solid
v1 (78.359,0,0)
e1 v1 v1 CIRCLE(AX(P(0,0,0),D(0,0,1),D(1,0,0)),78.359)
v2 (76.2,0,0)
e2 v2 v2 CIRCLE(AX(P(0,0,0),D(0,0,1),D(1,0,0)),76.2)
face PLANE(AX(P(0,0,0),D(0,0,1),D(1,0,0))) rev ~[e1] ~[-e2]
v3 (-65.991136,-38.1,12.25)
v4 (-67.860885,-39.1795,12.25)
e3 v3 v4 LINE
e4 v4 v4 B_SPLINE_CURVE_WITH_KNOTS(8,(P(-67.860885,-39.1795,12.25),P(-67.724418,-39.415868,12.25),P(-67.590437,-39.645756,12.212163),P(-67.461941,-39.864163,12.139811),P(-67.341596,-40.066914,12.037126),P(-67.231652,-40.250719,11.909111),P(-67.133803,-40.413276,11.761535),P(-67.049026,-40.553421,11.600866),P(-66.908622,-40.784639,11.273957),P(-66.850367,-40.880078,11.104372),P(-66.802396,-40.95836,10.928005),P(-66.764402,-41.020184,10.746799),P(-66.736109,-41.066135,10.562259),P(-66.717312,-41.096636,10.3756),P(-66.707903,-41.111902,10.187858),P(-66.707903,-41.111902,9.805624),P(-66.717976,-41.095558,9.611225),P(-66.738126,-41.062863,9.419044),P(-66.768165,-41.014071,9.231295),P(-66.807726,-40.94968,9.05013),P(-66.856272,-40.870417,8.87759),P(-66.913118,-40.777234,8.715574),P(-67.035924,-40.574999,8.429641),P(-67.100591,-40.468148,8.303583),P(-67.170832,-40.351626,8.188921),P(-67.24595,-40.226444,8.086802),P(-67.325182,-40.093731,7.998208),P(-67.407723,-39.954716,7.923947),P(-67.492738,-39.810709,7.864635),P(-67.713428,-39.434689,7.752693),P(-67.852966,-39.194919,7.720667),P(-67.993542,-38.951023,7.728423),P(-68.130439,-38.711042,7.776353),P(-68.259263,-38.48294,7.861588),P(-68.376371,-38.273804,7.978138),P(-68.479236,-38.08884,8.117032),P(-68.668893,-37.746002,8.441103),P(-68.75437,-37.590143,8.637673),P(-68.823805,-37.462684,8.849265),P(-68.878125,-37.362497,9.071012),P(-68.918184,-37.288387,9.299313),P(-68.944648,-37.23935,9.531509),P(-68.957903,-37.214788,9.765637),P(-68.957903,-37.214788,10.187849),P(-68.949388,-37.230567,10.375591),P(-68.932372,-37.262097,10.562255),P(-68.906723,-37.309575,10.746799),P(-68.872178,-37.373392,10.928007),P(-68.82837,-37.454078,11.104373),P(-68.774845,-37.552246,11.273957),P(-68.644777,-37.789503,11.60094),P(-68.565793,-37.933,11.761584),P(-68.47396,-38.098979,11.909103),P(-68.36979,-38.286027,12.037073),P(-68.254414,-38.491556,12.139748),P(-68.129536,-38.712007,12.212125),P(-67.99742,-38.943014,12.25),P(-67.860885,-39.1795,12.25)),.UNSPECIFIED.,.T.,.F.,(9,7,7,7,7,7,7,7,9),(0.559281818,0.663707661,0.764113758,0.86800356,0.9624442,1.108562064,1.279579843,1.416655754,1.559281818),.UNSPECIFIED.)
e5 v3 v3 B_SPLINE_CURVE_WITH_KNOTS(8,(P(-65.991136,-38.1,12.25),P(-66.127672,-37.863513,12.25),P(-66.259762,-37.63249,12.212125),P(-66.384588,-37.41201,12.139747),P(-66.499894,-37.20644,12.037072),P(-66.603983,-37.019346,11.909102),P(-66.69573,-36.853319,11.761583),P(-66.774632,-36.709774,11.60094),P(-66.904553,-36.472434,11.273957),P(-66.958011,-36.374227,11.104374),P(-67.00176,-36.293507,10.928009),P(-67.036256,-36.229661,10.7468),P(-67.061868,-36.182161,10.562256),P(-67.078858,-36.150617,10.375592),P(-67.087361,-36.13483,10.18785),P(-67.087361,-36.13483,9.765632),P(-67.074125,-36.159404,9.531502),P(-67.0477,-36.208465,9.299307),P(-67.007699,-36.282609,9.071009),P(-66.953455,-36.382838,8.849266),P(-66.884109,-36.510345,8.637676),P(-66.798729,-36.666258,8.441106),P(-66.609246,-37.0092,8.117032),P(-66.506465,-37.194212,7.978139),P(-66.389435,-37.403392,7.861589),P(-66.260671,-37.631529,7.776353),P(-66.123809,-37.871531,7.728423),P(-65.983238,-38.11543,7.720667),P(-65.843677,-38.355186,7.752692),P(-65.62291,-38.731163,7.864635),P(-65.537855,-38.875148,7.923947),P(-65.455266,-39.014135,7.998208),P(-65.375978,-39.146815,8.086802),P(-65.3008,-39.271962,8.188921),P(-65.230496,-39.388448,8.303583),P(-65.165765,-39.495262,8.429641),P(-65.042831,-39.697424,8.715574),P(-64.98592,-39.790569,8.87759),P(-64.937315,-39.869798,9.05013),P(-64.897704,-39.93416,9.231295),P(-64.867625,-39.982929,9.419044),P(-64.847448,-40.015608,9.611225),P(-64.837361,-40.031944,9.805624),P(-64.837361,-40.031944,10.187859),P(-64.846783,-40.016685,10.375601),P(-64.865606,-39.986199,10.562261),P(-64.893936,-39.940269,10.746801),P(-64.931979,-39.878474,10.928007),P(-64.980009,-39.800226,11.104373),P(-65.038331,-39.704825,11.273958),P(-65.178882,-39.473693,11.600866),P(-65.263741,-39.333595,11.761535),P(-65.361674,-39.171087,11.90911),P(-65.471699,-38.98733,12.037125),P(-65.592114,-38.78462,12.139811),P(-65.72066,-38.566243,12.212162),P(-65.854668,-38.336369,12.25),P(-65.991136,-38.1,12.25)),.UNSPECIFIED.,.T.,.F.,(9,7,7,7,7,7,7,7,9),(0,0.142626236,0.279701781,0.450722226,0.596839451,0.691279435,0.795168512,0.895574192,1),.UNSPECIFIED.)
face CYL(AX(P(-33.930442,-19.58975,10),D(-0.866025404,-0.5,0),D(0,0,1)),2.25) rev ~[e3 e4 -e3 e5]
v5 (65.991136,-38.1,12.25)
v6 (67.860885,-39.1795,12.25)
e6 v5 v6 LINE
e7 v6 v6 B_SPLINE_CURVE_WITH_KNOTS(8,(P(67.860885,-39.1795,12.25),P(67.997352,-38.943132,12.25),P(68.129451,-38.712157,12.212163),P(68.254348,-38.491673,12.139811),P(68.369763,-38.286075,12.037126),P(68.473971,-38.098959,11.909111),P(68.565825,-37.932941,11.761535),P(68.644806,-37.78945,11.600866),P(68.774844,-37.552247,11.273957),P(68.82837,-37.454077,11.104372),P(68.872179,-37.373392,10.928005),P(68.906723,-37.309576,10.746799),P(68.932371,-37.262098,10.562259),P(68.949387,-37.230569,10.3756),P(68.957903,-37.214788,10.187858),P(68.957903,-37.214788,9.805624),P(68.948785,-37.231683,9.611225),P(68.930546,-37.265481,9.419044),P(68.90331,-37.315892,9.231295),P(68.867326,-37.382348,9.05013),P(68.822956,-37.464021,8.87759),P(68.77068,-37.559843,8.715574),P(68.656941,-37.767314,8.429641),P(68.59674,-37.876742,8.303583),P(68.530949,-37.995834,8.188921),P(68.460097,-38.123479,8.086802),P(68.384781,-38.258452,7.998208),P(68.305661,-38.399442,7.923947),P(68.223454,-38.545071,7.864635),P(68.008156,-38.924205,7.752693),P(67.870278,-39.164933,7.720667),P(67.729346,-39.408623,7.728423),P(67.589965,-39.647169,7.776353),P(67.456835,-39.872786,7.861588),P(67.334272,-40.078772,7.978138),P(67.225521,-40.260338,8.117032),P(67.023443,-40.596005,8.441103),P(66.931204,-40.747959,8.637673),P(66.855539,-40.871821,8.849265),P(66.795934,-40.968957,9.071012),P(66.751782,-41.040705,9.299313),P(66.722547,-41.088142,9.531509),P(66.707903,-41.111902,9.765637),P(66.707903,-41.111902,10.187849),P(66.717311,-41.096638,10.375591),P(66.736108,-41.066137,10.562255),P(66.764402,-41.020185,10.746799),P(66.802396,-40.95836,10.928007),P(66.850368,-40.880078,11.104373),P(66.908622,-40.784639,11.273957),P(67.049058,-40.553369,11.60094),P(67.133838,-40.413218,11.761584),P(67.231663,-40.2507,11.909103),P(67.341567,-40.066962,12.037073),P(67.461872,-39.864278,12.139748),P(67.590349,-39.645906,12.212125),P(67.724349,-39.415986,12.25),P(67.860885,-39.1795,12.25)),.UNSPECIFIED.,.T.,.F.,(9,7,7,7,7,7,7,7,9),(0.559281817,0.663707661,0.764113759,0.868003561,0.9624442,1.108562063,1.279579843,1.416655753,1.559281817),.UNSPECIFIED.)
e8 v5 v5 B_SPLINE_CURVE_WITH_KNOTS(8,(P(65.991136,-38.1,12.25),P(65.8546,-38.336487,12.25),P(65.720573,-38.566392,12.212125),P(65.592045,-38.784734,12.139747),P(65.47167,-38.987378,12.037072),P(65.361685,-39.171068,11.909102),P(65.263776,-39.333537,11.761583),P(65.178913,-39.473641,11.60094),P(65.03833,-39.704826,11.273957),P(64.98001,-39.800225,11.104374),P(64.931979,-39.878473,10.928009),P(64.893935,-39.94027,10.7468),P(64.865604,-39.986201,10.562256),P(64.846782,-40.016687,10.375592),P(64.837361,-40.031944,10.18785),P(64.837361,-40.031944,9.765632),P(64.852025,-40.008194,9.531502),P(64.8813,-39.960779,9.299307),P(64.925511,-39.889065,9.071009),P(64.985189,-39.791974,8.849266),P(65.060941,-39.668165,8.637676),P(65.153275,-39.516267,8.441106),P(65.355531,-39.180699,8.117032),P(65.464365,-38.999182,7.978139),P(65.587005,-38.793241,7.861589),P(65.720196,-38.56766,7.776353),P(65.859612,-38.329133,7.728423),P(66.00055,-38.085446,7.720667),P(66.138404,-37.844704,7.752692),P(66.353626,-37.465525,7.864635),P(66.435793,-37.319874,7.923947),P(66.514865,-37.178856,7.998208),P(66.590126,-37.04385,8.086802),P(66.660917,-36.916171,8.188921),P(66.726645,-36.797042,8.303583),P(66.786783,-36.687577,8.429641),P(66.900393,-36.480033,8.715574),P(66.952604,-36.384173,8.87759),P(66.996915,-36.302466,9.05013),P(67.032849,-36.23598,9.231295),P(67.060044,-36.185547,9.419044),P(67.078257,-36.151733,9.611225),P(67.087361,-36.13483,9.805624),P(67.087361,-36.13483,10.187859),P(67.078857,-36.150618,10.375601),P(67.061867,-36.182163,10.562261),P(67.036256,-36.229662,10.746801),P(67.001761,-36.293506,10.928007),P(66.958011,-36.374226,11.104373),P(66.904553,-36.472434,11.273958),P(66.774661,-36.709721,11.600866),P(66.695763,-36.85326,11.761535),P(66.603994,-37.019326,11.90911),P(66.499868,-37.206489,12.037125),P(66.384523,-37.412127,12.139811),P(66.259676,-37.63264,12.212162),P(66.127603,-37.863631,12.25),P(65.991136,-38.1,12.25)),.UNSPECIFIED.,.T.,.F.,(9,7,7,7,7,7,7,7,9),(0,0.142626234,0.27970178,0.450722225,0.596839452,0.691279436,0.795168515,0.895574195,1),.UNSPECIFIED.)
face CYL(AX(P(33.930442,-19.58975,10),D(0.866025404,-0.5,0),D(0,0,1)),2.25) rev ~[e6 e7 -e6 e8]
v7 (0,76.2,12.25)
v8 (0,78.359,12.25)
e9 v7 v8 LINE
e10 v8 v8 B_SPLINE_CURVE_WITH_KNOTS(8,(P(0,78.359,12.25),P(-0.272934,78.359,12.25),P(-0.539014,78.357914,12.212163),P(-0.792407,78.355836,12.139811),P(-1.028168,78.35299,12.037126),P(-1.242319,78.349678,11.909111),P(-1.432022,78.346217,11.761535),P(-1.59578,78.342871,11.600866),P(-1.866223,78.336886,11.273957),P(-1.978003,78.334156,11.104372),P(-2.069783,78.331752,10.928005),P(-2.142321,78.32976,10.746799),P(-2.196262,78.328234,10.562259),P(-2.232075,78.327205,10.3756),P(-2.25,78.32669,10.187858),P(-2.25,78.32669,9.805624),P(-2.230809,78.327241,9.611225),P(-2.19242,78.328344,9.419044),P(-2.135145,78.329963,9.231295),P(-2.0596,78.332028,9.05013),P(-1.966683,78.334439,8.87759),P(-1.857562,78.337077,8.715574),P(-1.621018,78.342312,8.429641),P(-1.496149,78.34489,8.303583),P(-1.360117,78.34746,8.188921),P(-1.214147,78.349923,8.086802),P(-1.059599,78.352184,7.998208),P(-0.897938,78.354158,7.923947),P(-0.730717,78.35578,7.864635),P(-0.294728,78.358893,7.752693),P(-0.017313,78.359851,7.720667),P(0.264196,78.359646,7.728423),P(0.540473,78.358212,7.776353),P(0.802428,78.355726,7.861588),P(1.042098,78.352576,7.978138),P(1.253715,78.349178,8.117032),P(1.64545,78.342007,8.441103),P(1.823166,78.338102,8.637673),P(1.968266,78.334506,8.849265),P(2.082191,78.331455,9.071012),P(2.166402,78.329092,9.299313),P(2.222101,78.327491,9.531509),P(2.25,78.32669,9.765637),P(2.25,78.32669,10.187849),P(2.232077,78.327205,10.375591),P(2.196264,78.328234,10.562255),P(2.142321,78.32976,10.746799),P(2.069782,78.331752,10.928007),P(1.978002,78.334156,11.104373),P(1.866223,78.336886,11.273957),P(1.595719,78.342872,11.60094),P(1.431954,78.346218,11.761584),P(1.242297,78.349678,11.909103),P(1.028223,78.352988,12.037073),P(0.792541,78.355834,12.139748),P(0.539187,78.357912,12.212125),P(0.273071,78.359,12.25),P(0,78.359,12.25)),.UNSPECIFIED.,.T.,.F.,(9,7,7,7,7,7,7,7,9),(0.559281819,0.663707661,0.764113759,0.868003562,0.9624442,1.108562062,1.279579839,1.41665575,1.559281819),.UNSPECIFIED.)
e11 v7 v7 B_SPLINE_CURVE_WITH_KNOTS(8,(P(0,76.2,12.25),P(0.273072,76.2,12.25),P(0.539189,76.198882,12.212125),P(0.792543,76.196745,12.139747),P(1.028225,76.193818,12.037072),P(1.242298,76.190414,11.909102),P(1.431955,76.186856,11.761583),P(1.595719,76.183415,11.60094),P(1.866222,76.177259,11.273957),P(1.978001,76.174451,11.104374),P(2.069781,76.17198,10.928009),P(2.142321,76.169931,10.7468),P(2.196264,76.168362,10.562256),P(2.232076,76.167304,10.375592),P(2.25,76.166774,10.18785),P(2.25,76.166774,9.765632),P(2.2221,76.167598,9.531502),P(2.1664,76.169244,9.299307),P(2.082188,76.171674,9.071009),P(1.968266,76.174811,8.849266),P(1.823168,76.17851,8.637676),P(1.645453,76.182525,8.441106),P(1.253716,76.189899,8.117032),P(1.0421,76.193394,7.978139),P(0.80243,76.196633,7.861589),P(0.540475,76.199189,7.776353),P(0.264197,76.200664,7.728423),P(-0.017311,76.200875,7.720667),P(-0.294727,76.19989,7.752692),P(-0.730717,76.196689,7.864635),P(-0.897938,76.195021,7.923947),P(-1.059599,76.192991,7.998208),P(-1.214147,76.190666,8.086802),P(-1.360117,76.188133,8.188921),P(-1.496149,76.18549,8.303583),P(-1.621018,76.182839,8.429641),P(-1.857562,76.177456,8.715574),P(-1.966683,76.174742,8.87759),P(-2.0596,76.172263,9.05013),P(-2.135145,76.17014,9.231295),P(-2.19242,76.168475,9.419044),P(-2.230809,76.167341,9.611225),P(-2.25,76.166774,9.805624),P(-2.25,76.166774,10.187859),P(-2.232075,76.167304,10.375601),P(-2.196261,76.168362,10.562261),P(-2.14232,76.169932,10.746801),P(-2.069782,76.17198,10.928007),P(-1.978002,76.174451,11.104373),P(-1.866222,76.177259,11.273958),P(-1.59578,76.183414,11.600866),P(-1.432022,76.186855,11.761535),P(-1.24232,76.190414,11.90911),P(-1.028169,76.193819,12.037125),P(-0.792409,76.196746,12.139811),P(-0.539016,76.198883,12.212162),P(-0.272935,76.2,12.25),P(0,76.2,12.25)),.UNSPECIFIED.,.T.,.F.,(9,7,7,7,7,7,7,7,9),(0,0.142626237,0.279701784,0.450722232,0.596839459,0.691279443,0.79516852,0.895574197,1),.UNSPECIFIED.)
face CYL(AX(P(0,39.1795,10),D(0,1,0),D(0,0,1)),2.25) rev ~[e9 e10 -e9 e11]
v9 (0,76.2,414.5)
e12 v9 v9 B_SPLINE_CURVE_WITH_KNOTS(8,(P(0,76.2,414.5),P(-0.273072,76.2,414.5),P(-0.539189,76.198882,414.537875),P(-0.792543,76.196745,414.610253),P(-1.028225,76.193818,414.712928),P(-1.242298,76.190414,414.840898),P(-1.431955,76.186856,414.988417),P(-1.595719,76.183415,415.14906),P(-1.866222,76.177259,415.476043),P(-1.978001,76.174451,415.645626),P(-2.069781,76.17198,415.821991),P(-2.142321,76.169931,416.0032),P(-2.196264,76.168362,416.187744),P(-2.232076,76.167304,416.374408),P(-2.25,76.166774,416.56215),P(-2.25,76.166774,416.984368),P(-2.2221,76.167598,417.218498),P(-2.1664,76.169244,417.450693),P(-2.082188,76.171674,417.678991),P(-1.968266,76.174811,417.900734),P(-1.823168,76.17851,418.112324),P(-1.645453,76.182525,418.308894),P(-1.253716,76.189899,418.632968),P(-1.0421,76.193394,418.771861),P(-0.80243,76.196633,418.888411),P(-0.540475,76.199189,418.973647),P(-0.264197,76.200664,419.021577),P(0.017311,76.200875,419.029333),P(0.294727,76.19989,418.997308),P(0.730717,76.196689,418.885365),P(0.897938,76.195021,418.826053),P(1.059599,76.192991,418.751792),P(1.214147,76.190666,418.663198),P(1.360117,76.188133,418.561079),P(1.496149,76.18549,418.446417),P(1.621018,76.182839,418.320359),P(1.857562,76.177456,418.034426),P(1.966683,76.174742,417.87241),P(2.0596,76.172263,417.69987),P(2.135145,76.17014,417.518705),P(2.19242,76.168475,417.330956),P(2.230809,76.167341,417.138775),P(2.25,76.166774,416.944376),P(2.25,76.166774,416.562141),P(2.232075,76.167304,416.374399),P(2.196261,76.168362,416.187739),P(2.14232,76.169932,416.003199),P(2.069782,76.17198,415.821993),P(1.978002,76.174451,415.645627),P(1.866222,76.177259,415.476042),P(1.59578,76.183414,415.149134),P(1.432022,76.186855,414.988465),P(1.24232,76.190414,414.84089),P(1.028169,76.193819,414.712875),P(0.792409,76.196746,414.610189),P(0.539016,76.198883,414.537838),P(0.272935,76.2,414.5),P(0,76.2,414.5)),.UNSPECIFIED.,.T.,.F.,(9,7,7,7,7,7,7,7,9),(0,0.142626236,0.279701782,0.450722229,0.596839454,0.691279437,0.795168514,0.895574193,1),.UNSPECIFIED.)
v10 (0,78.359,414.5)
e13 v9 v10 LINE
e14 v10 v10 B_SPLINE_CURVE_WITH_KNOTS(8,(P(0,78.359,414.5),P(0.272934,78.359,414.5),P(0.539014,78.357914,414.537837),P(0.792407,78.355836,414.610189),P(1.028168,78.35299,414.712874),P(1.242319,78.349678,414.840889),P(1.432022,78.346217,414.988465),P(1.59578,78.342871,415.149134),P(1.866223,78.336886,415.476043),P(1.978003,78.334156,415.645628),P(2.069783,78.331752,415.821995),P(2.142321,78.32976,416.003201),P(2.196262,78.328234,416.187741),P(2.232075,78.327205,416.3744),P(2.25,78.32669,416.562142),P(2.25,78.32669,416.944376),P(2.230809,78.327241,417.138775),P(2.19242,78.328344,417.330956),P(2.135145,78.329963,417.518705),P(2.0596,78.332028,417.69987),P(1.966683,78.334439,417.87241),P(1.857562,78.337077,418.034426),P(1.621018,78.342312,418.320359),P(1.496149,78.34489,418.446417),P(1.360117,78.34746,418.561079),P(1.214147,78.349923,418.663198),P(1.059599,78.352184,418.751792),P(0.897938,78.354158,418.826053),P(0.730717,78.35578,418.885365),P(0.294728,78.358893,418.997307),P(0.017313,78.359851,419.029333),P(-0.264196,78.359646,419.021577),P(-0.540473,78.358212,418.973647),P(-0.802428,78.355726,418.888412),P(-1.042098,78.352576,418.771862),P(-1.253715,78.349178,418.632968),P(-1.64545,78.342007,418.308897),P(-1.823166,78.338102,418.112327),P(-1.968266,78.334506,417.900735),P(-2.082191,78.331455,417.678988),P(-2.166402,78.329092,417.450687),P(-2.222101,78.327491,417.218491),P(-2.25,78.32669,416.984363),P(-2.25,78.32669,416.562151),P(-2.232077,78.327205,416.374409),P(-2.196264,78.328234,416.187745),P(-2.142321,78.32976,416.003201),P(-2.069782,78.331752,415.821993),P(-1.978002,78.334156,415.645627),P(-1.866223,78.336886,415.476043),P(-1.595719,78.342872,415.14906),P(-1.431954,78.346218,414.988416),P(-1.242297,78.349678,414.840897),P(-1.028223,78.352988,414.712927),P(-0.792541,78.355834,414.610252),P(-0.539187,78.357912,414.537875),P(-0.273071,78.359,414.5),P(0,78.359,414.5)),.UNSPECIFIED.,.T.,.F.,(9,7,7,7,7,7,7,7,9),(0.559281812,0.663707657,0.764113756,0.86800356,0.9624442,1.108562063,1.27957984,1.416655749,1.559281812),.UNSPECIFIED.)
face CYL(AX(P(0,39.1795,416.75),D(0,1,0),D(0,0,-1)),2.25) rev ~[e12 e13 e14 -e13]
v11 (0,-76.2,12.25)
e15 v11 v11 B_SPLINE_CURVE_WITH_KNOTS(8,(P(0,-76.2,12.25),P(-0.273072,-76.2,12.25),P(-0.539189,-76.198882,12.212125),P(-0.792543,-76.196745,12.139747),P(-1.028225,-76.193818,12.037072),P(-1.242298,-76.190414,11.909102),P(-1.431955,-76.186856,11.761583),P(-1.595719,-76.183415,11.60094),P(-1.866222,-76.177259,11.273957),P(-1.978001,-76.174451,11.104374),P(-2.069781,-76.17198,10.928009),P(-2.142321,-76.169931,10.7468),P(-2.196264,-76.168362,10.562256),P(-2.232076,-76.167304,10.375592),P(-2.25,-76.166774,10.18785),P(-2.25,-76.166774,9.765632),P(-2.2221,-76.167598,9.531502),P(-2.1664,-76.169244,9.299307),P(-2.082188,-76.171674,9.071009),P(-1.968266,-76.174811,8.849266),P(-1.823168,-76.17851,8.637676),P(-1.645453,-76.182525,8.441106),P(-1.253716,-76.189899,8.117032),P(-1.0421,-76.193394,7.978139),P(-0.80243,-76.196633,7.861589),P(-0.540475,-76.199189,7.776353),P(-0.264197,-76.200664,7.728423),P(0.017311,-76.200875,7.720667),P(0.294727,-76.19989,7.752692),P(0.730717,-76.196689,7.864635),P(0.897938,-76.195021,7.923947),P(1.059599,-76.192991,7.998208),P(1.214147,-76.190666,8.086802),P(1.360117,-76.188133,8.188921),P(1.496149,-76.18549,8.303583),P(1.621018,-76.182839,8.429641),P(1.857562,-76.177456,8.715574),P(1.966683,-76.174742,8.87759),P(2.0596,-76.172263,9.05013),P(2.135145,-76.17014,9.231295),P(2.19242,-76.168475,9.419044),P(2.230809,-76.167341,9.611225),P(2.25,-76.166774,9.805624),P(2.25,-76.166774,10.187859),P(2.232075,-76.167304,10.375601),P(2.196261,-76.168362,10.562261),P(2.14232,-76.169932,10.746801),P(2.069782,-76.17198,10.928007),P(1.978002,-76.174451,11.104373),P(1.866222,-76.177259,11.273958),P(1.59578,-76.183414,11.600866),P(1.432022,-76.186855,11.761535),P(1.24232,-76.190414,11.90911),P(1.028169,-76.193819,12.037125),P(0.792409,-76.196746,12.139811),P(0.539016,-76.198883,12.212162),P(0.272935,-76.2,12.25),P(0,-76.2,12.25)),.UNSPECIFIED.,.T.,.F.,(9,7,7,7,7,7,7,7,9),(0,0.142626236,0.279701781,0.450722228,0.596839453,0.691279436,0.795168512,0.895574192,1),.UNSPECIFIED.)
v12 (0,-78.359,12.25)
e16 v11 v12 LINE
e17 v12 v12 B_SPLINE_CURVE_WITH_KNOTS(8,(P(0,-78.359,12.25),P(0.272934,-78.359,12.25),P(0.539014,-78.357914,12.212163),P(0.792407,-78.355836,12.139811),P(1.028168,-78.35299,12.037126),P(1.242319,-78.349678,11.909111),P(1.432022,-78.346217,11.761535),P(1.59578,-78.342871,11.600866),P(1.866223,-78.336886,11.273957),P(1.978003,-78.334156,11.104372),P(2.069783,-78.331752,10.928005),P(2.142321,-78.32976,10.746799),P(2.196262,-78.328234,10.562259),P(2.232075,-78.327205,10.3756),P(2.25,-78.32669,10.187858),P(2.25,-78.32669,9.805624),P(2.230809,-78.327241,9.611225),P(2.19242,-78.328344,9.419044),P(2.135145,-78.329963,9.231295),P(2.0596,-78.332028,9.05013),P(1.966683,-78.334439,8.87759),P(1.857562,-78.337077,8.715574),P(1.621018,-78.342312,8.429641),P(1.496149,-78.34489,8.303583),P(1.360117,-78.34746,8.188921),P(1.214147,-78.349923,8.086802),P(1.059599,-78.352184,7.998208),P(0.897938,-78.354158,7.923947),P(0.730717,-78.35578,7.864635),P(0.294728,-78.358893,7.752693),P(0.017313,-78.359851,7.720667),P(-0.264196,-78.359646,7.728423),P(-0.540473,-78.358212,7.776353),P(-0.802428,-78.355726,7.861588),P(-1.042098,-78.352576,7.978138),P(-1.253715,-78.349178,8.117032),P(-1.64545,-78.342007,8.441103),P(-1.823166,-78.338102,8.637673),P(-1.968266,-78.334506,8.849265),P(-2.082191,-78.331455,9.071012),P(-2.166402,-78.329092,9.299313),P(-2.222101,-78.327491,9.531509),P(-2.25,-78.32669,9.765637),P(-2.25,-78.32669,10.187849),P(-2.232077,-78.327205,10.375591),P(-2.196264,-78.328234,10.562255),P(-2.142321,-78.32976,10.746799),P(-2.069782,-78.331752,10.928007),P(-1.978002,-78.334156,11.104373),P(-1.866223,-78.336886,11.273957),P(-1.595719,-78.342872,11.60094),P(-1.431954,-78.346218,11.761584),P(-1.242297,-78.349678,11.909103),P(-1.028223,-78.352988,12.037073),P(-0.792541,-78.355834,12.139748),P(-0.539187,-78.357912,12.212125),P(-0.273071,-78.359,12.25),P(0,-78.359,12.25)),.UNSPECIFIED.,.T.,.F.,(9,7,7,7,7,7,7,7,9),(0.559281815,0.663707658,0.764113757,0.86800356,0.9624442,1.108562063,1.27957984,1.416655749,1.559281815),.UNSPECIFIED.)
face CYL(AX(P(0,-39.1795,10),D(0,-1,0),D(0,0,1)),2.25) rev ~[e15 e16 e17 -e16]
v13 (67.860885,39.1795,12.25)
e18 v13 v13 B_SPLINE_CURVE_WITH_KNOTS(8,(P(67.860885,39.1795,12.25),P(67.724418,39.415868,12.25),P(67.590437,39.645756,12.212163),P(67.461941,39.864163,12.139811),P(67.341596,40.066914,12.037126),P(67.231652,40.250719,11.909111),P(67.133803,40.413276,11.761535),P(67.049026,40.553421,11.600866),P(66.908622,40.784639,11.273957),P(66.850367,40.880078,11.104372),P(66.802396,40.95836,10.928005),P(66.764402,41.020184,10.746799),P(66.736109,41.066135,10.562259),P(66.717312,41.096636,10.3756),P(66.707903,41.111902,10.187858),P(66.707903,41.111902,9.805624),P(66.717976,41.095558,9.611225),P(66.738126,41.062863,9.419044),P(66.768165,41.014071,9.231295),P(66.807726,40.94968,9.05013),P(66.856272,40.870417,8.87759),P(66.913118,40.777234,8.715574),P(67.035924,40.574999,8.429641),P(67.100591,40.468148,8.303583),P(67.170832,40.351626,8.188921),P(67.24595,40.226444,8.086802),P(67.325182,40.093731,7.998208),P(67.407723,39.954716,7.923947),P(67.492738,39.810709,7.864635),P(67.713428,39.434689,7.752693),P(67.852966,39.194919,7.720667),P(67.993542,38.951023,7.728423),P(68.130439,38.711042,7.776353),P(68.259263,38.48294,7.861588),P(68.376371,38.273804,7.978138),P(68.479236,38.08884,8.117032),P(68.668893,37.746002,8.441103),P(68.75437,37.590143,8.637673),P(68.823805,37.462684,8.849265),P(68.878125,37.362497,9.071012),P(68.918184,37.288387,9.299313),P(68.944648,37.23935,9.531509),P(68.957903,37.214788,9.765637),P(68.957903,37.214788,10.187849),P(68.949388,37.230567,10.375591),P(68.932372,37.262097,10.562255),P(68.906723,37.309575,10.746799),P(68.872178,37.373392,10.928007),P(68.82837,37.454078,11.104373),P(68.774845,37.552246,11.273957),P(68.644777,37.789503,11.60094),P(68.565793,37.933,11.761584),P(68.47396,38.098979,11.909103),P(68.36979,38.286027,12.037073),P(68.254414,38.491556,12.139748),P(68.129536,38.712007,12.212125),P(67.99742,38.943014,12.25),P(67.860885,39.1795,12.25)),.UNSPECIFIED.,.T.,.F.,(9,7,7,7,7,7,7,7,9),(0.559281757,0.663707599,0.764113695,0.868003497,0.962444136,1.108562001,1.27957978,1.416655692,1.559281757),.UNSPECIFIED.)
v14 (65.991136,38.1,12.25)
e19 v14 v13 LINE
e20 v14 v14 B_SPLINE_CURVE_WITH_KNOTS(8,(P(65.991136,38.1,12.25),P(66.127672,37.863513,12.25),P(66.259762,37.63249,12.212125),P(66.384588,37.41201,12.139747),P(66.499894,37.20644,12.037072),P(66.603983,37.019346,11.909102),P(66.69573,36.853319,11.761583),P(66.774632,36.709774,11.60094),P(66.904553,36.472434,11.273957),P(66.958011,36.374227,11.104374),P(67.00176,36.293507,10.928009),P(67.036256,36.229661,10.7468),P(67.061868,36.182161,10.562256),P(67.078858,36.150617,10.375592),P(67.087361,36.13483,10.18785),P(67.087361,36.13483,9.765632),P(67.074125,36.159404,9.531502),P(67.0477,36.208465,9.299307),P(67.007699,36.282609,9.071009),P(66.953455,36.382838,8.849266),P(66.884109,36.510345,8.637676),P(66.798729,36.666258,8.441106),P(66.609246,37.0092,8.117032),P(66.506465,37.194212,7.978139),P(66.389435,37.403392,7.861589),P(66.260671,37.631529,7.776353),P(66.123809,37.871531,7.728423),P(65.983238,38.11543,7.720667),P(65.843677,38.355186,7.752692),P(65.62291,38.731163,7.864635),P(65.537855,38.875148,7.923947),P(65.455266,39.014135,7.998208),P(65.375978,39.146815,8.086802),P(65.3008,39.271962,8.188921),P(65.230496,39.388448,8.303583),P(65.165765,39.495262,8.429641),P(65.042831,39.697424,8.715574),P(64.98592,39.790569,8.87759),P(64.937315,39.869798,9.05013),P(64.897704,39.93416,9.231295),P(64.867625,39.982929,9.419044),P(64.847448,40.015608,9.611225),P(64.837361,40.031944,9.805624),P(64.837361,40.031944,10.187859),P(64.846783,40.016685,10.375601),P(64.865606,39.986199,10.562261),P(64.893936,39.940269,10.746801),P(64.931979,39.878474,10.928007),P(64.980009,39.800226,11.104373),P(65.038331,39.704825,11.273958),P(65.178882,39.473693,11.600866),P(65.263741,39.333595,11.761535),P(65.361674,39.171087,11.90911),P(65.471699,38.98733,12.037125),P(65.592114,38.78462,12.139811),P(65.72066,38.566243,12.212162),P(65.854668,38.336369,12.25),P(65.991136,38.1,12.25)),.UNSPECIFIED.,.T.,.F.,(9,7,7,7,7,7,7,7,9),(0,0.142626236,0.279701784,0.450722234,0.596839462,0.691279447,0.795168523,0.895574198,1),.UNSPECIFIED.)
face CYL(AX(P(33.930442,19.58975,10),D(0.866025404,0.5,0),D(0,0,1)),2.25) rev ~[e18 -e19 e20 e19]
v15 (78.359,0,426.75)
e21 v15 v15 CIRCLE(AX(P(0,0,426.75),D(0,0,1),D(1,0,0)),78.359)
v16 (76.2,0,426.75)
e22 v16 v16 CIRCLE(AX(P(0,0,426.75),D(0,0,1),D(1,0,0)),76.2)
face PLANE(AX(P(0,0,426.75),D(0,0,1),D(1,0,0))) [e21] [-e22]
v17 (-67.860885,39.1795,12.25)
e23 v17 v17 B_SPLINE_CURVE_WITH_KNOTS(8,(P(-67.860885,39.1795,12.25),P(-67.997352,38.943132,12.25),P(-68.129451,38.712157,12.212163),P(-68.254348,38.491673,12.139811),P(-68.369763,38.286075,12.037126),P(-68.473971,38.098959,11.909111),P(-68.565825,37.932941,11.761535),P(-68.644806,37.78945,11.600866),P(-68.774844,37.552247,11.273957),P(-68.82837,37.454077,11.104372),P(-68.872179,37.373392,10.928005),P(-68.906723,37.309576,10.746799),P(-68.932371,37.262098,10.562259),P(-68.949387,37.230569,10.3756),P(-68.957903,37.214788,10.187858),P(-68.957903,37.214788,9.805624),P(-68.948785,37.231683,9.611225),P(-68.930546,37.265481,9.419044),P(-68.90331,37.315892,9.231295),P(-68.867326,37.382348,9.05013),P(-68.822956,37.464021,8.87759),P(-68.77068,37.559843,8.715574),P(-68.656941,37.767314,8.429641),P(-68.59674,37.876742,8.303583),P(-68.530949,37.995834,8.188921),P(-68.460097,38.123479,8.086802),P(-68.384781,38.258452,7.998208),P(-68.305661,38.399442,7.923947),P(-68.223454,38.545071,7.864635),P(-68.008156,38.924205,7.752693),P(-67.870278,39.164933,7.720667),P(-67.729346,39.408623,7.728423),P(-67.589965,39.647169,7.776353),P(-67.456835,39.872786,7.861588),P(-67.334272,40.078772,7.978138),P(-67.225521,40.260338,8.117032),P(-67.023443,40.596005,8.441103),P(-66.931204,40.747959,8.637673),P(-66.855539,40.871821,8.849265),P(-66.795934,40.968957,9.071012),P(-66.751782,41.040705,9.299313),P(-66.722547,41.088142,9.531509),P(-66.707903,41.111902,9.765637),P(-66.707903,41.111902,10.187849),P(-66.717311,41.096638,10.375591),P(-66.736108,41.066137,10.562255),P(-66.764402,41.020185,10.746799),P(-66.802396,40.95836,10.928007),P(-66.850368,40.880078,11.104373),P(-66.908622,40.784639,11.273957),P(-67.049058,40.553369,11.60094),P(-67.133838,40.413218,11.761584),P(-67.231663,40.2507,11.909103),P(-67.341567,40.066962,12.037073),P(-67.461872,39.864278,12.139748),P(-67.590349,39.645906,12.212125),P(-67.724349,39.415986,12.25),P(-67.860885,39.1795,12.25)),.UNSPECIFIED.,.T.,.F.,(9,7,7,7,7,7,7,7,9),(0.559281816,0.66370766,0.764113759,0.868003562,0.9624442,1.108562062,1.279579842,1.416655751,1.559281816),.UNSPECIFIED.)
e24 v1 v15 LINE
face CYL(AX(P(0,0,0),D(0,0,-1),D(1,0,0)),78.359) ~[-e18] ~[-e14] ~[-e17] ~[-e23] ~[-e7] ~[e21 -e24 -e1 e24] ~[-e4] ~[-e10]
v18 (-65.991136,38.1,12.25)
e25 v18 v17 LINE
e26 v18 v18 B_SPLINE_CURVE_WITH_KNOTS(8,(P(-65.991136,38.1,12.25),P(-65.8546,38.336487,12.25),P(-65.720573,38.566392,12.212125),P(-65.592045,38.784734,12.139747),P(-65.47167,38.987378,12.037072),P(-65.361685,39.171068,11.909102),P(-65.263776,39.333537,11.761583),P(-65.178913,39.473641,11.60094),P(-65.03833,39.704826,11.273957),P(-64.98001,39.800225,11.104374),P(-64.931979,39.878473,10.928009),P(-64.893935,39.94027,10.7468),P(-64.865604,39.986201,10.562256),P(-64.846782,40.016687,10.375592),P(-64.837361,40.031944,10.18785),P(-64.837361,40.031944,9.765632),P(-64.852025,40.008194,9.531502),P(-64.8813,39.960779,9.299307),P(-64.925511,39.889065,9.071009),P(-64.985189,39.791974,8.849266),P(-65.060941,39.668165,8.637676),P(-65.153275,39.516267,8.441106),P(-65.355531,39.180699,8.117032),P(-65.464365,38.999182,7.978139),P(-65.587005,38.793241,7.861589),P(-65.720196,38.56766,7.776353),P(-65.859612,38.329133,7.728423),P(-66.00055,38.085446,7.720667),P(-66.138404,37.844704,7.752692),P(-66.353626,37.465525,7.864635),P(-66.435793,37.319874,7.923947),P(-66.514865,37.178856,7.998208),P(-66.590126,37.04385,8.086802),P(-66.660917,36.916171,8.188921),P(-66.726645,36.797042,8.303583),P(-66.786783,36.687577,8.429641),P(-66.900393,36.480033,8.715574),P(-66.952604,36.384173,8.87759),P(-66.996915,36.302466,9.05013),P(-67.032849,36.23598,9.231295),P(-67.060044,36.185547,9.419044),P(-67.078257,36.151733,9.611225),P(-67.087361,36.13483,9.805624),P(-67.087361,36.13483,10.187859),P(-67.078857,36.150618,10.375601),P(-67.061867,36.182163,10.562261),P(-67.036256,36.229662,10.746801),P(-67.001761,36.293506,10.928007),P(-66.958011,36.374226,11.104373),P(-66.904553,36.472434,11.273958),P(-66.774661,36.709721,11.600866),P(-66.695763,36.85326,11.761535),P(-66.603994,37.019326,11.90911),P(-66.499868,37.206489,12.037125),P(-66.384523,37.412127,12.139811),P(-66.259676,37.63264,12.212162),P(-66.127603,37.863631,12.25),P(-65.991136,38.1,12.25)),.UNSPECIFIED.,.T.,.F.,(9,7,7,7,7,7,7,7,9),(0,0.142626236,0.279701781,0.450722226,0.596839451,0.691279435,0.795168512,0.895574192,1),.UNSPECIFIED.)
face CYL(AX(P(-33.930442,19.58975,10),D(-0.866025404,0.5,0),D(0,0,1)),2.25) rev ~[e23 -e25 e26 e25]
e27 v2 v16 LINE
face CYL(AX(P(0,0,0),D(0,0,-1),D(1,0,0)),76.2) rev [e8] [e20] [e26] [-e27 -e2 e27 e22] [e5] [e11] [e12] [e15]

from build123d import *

# Parameters (mm, degrees)
SKETCH1_R           = 78.359
SKETCH1_R_2         = 76.2
BOSS_EXTRUDE1_DEPTH = 426.75
SKETCH5_W           = 2.25
SKETCH5_H           = 78.359
CIRPATTERN1_COUNT   = 6
SKETCH7_W           = 2.25
SKETCH7_H           = 78.359


with BuildPart() as part:
    # Sketch1 → Boss-Extrude1 (new body)
    with BuildSketch(Plane.XY):
        Circle(SKETCH1_R)
        Circle(SKETCH1_R_2, mode=Mode.SUBTRACT)
    extrude(amount=BOSS_EXTRUDE1_DEPTH)

    # Sketch5 → M4 Clearance Hole2 (revolve, cut)
    with BuildSketch(Plane(origin=(0, 0, 10), x_dir=(0, 0, 1), z_dir=(1, 0, 0))):
        with Locations((1.125, 39.1795)):
            Rectangle(SKETCH5_W, SKETCH5_H)
    m4_clearance_hole2 = revolve(axis=Axis((0, 6.35, 10), (0, -1, 0)), mode=Mode.SUBTRACT)

    # CirPattern1: M4 Clearance Hole2 ×6 about axis
    cirpattern1_axis = Axis((0, 0, 426.75), (0, 0, -1))
    for i in range(1, CIRPATTERN1_COUNT):
        add(m4_clearance_hole2.rotate(cirpattern1_axis, i * 360 / CIRPATTERN1_COUNT), mode=Mode.SUBTRACT)

    # Sketch7 → M4 Clearance Hole3 (revolve, cut)
    with BuildSketch(Plane(origin=(0, 0, 416.75), x_dir=(0, 0, -1), z_dir=(1, 0, 0))):
        with Locations((1.125, 39.1795)):
            Rectangle(SKETCH7_W, SKETCH7_H)
    revolve(axis=Axis((0, -6.35, 416.75), (0, 1, 0)), mode=Mode.SUBTRACT)


solid = part.part
